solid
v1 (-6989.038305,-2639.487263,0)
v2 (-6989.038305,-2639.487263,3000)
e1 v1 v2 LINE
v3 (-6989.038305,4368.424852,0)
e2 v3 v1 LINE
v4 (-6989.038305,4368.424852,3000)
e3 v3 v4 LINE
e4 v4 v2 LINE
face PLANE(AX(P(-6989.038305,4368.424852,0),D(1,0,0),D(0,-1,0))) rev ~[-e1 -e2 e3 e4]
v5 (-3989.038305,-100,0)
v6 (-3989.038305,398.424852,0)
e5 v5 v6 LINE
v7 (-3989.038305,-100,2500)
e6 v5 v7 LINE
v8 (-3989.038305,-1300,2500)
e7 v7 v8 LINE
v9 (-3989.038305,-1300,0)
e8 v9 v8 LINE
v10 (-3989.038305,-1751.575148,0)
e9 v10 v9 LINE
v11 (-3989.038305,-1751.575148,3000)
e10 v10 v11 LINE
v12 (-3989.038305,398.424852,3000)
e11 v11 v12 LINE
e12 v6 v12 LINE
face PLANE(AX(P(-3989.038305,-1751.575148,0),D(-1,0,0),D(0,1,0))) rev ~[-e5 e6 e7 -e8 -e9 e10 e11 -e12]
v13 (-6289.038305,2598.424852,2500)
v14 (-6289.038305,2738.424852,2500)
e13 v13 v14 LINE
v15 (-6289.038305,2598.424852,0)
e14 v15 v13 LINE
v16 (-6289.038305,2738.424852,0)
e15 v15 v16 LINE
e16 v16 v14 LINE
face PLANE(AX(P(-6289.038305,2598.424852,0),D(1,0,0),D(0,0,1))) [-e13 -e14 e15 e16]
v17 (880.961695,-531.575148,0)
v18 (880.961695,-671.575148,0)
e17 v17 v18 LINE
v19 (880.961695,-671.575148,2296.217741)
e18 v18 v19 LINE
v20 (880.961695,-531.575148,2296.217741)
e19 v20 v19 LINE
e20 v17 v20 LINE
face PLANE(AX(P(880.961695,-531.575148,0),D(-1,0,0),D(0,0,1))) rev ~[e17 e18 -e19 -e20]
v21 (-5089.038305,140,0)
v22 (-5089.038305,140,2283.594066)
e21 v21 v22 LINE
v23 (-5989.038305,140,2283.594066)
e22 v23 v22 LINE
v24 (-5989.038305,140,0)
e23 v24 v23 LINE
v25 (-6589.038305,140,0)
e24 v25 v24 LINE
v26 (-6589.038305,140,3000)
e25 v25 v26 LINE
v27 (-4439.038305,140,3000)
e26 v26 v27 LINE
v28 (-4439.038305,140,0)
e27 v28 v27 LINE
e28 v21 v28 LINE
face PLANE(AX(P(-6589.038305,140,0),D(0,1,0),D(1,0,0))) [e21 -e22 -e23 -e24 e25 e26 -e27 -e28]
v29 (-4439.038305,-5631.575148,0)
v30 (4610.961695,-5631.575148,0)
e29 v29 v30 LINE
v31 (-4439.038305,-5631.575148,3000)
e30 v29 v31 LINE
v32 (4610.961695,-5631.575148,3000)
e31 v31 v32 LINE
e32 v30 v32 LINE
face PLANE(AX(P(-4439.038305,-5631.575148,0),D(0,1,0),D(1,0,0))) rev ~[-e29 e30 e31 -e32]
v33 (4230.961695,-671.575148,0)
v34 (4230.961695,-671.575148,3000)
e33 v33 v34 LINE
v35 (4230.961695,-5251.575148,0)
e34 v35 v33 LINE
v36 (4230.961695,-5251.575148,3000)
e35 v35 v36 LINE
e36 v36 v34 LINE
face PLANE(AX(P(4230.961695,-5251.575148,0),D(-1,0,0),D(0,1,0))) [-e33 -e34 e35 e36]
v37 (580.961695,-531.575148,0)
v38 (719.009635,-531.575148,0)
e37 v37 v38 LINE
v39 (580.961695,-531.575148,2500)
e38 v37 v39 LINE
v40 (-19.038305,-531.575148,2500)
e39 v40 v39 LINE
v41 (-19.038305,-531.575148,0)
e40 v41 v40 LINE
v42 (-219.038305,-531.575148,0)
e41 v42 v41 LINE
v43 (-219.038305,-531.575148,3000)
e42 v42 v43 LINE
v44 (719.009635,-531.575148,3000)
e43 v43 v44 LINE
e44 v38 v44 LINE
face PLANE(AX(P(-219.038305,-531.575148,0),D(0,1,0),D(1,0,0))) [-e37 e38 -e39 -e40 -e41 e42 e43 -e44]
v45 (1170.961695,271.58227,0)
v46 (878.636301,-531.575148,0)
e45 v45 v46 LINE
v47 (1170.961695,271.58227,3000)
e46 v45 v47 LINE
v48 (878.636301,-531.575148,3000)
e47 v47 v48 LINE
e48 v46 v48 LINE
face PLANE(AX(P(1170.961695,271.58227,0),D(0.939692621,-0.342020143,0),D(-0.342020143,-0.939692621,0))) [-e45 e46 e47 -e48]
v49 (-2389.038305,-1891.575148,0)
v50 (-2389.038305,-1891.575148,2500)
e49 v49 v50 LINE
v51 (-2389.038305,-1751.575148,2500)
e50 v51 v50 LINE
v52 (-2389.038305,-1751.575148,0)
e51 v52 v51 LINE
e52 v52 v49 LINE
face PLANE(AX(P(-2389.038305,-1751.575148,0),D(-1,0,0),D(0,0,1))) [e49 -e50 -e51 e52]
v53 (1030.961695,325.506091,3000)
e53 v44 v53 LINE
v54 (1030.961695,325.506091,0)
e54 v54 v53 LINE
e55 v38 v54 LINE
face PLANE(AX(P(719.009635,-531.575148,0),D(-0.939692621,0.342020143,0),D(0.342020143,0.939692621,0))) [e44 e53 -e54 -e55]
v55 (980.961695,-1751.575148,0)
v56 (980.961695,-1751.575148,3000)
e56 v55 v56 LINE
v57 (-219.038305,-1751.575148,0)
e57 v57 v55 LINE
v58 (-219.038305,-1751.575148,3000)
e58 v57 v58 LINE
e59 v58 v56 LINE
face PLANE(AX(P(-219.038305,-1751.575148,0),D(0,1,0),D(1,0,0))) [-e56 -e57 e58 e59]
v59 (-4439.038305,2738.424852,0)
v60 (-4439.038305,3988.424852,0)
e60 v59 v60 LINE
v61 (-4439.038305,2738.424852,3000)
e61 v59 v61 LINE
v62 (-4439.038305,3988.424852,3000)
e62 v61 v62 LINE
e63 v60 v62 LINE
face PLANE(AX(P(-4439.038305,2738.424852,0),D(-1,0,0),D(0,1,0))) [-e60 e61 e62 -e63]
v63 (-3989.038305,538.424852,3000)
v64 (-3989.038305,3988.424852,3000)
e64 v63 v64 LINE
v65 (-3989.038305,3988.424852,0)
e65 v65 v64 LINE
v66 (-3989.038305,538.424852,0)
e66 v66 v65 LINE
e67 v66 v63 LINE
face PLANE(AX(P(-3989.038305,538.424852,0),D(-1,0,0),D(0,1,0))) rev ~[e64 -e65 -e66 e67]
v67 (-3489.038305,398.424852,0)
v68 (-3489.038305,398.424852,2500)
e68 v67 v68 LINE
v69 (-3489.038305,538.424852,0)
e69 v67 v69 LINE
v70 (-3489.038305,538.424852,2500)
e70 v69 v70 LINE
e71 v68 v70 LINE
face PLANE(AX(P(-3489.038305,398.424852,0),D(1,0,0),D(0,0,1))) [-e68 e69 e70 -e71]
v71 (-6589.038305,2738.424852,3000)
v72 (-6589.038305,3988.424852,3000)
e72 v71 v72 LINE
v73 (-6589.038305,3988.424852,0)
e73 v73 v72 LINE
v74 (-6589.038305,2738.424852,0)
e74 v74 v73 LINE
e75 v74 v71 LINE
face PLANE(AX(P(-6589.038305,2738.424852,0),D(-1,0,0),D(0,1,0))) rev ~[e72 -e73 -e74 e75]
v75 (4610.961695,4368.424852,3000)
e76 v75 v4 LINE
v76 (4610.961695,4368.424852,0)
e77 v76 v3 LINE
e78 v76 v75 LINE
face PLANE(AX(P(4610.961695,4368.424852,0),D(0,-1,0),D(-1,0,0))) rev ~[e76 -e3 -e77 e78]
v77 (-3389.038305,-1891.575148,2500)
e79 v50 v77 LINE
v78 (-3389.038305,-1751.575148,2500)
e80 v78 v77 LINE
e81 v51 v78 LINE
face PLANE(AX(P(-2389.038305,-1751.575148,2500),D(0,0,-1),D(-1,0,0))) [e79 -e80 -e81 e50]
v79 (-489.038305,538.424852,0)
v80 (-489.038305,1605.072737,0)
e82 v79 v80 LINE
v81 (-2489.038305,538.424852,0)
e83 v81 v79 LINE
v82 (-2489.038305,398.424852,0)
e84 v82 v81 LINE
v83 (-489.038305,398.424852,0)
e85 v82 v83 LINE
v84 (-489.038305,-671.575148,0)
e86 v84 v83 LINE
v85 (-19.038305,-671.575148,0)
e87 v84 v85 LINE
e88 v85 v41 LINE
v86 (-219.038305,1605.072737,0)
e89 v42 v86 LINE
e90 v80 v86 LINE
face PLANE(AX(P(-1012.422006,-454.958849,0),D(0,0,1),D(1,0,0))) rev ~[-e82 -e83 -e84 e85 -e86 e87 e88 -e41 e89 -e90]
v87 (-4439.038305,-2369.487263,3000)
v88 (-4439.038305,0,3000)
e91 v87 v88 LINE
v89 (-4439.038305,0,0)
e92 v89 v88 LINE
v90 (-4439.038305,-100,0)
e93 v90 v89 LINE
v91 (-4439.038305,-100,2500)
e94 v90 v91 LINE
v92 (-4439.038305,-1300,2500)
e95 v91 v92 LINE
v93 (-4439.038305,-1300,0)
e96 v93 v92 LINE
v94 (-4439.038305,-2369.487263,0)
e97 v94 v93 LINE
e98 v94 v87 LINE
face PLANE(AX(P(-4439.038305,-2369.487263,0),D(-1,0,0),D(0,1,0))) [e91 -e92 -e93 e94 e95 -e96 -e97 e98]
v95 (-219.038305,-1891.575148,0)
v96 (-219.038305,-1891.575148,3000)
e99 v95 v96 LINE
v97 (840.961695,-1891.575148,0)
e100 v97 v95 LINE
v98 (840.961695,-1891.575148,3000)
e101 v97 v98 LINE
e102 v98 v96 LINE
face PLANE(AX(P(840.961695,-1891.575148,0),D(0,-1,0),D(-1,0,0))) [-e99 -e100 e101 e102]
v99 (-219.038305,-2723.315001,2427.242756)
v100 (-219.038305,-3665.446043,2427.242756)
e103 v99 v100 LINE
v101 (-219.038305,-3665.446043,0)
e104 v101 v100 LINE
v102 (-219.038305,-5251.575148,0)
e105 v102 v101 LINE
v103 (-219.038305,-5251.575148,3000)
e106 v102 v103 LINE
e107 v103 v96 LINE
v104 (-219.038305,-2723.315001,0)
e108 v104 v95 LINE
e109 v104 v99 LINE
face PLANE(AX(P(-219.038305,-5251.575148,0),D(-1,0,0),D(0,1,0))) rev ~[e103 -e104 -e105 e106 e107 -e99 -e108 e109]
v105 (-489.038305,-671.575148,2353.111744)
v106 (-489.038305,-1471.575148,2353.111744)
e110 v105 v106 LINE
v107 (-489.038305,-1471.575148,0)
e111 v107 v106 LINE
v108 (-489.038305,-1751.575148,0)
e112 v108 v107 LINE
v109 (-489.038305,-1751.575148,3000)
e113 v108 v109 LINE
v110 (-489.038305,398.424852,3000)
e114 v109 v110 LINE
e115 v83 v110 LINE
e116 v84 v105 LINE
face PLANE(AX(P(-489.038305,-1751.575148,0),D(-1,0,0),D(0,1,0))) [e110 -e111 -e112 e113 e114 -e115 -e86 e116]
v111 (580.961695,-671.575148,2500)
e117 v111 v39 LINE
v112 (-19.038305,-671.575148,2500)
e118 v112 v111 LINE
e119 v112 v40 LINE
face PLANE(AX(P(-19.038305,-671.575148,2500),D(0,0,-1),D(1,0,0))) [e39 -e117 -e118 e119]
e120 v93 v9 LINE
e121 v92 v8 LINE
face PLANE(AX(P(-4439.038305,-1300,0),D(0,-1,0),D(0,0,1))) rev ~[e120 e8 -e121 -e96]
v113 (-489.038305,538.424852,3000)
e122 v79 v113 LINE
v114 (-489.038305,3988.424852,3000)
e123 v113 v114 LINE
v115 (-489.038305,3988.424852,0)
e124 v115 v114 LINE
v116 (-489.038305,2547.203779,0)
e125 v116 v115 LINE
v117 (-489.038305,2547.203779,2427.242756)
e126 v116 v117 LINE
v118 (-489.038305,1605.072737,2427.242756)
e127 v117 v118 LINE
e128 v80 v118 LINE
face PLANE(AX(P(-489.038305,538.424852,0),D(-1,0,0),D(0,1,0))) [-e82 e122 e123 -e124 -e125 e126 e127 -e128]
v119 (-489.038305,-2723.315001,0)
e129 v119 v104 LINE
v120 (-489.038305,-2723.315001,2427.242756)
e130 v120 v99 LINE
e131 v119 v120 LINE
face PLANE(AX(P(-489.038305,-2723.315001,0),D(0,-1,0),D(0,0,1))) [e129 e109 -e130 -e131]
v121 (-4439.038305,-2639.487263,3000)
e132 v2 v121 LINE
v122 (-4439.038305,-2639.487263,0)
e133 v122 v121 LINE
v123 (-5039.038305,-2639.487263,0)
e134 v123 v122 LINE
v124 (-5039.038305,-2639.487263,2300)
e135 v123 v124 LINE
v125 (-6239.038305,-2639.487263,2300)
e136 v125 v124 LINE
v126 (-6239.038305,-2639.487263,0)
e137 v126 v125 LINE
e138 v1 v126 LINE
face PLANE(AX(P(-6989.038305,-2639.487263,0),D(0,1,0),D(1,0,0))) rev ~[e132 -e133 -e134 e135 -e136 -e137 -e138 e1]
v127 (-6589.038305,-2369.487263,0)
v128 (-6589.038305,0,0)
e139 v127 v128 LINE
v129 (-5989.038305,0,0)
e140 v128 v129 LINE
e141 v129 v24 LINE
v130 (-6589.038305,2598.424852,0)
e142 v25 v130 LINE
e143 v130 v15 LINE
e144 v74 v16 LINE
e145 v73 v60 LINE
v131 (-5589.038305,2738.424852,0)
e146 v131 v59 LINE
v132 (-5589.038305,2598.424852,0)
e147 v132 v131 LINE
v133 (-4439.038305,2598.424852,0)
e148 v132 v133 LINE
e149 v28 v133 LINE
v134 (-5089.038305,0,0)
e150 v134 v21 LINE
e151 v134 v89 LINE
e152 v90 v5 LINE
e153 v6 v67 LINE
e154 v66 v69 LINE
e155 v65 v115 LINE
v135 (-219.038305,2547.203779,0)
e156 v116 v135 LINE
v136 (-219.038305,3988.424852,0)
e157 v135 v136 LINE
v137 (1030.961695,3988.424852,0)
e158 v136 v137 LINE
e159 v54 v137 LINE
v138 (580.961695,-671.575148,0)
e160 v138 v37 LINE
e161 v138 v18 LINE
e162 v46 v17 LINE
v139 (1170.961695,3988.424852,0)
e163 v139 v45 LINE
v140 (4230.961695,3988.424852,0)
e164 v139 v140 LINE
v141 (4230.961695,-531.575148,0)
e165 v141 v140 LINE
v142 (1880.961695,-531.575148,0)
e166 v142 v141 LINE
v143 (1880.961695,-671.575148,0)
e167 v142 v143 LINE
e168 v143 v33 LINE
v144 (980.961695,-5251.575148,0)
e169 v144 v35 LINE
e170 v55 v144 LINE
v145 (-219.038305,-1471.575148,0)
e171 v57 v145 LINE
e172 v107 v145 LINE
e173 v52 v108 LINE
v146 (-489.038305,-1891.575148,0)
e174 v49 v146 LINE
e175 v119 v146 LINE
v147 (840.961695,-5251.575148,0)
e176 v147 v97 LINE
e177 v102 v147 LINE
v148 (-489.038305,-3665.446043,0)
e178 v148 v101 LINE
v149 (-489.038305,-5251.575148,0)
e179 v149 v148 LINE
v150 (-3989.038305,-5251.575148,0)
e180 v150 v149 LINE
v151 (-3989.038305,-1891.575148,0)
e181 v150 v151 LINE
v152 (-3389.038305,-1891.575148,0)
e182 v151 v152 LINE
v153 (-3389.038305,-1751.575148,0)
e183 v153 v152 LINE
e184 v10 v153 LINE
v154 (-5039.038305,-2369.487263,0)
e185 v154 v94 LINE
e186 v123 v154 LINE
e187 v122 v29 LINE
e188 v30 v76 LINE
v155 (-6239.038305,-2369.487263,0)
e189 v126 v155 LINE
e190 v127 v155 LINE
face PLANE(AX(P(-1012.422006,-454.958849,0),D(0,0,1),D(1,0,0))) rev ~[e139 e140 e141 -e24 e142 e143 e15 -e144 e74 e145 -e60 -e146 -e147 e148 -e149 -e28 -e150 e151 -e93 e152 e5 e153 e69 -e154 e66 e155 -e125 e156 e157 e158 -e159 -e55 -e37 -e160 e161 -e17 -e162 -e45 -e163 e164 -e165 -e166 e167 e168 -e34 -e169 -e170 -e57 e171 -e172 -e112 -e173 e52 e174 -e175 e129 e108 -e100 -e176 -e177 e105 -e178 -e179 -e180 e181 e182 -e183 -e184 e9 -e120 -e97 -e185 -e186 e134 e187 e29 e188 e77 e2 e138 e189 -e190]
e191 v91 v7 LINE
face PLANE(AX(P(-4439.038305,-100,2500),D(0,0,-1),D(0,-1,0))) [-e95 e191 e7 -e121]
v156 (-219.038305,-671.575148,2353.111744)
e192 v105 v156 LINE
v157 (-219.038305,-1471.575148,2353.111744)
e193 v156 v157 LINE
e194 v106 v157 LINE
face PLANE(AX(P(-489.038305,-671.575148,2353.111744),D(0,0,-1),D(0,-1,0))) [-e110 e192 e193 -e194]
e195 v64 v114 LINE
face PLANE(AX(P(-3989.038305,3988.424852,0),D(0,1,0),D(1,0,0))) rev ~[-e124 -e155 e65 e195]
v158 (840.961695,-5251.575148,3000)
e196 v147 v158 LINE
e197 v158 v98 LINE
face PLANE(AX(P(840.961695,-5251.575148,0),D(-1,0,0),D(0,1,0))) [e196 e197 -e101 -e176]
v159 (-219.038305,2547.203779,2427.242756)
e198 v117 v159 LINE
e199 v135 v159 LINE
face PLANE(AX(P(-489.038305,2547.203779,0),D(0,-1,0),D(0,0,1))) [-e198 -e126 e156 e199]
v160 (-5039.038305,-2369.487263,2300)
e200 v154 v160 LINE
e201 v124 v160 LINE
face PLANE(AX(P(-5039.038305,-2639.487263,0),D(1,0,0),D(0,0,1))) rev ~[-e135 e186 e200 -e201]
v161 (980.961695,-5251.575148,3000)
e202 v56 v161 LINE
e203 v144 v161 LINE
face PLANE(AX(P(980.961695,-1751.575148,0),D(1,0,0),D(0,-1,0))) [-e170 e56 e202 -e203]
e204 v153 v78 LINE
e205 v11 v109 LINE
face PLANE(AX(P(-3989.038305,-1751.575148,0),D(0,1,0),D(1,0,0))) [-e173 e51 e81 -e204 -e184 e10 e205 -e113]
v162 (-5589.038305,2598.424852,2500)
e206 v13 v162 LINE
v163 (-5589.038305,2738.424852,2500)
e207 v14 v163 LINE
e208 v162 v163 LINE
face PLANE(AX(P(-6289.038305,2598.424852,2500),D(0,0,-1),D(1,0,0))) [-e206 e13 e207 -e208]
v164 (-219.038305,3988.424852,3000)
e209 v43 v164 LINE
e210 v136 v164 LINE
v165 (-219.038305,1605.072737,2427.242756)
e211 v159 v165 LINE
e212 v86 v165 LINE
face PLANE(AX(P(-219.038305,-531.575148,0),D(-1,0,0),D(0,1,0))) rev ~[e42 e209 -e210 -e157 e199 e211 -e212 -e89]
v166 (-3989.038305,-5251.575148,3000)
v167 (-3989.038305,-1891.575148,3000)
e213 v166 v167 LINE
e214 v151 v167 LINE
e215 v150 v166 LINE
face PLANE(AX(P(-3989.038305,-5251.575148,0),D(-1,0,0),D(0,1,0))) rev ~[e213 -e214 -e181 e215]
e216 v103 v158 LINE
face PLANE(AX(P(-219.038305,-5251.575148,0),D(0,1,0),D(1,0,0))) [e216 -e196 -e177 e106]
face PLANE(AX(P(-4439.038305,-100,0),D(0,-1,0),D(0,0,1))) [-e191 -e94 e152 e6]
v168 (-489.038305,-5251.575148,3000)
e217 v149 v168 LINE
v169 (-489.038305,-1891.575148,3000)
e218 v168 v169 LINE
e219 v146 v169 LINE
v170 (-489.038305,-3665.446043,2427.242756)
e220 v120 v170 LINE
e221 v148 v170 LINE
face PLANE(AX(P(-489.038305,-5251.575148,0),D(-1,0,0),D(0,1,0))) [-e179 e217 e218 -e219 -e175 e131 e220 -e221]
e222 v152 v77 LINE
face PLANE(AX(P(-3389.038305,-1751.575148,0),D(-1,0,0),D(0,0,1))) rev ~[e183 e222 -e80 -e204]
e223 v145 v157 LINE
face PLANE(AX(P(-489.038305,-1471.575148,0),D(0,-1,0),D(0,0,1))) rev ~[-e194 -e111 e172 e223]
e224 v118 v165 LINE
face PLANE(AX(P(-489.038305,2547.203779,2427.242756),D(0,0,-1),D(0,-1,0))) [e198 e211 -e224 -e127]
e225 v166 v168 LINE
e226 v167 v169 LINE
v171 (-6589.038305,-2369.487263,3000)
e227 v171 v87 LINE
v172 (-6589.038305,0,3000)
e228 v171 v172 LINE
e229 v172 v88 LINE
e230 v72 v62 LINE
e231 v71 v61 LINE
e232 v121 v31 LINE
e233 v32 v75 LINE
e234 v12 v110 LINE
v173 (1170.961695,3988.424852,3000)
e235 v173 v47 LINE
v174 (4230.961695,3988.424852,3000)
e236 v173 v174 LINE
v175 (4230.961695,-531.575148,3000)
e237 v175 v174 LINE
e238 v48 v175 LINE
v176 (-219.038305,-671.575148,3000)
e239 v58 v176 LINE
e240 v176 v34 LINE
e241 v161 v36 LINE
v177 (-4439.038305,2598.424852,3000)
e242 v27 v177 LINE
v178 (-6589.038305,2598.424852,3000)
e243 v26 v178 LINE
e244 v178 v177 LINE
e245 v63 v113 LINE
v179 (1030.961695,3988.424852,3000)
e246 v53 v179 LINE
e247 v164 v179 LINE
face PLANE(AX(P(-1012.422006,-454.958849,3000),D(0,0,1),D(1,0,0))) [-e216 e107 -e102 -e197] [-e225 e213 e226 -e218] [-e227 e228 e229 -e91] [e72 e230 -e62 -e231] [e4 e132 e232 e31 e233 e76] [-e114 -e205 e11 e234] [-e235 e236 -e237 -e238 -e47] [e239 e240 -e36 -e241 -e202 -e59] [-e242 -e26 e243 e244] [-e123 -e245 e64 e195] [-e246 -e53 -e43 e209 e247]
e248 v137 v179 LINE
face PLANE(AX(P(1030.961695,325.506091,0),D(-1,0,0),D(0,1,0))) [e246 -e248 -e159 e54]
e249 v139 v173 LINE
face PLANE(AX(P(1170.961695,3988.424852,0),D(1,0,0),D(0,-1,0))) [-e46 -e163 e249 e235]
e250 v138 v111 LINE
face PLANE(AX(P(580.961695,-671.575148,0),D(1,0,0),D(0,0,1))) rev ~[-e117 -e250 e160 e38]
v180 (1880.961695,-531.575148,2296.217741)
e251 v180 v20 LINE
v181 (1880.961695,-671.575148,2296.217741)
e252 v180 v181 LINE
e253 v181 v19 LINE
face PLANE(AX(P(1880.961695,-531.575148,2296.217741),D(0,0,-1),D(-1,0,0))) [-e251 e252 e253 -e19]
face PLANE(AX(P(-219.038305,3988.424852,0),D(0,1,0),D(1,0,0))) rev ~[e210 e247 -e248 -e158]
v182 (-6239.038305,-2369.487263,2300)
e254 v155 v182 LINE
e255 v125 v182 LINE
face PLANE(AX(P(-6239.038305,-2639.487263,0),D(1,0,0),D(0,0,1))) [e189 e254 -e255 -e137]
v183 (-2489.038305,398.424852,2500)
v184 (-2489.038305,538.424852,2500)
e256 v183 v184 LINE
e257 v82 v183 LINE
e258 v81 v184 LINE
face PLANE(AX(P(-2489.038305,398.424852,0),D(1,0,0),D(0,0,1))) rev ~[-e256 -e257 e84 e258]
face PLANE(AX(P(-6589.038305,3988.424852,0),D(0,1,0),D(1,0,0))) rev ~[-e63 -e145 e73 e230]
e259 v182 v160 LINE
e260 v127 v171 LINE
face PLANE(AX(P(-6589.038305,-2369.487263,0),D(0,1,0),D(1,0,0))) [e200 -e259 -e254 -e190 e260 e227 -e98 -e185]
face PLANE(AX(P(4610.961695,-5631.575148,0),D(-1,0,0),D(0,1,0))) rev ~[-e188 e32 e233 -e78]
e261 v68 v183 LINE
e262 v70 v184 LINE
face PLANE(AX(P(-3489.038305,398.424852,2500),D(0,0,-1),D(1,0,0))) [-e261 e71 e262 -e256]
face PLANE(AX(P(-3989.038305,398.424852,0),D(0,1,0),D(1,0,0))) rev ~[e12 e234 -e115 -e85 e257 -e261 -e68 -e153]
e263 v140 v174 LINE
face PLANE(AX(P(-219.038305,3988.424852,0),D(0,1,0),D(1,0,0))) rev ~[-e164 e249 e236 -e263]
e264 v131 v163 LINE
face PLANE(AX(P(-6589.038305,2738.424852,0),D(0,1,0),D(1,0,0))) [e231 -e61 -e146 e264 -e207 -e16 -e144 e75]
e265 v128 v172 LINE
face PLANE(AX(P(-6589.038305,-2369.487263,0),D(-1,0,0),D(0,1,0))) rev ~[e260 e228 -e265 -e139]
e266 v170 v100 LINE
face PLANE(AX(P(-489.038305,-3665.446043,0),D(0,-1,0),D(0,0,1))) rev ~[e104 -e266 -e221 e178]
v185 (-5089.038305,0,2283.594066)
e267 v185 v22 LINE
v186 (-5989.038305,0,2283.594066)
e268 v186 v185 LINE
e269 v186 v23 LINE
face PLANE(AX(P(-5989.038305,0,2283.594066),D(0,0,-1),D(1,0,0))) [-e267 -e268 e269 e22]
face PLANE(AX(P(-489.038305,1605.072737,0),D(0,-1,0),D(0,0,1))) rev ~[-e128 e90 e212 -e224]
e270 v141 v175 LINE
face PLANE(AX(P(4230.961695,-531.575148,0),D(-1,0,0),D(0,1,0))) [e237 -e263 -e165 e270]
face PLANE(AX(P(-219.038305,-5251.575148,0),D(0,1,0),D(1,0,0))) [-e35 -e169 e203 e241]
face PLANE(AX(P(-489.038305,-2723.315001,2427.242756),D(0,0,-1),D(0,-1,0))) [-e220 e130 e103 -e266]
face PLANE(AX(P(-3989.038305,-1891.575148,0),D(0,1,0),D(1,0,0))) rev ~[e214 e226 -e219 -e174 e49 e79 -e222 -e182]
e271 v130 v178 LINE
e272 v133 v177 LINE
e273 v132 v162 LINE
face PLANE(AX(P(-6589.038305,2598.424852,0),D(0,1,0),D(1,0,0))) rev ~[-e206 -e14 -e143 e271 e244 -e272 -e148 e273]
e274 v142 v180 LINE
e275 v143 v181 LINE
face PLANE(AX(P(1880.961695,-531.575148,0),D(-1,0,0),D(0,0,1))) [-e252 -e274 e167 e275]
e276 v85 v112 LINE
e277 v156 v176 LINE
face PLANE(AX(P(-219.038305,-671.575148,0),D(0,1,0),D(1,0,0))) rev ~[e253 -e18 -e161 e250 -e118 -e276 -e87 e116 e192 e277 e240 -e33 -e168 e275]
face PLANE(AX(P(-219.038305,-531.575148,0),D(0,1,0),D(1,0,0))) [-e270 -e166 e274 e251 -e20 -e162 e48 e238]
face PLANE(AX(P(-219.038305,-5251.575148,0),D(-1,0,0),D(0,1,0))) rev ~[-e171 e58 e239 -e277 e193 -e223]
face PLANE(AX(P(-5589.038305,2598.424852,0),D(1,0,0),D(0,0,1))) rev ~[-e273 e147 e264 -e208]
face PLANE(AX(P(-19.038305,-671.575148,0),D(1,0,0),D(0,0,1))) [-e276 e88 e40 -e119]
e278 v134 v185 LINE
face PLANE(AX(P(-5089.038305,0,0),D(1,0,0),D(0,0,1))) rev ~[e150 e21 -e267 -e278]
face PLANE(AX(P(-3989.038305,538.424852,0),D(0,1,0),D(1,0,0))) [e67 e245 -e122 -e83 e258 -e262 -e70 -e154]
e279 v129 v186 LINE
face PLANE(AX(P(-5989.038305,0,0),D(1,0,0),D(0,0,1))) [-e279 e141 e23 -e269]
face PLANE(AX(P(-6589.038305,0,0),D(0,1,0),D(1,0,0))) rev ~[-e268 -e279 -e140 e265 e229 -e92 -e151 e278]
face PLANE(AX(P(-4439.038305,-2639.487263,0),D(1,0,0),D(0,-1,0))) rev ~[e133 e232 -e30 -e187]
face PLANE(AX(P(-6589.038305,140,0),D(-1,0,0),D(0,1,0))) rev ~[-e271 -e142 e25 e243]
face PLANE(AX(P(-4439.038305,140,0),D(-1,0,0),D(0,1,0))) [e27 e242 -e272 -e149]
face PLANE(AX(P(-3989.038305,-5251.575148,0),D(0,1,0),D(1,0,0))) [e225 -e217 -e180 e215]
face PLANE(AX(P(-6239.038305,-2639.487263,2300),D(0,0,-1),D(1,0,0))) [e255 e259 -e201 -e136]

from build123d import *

# Parameters (mm, degrees)
F0_W      = 3500
F0_H      = 3360
F0_W_2    = 2150
F0_H_2    = 2369.4872627268
F0_H_3    = 2150
F0_W_3    = 4450
F0_H_4    = 4580
F0_H_5    = 2458.4248518944
F0_H_6    = 1250
F0_H_7    = 3450
F0_H_8    = 4520
F1_DEPTH  = 3000
F2_W      = 1200
F2_H      = 2300
F3_DEPTH  = 270
F4_W      = 900
F4_H      = 2283.5940655647
F5_DEPTH  = 140
F6_W      = 700
F6_H      = 2500
F7_DEPTH  = 140
F8_W      = 1200
F8_H      = 2500
F9_DEPTH  = 450
F10_W     = 1000
F10_H     = 2500
F11_DEPTH = 140
F12_W     = 1000
F12_H     = 2500
F13_DEPTH = 140
F14_W     = 1000
F14_H     = 2296.2177407754
F15_DEPTH = 140
F16_W     = 942.1310424805
F16_H     = 2427.2427558899
F17_DEPTH = 270
F18_W     = 800
F18_H     = 2353.111743927
F19_DEPTH = 270
F20_W     = 600
F20_H     = 2500
F21_DEPTH = 140
F23_DEPTH = 3000
F25_DEPTH = 3000


with BuildPart() as f1:
    # F0 (on Top) → F1 (new body)
    with BuildSketch(Plane.XY):
        Polygon((4610.9616947174, 4368.4248518944), (-6989.0383052826, 4368.4248518944), (-6989.0383052826, -2639.4872627268), (-4439.0383052826, -2639.4872627268), (-4439.0383052826, -5631.5751481056), (4610.9616947174, -5631.5751481056), align=None)
        with Locations((-2239.0383052826, -3571.5751481056)):
            Rectangle(F0_W, F0_H, mode=Mode.SUBTRACT)
        with Locations((-5514.0383052826, -1184.7436313634)):
            Rectangle(F0_W_2, F0_H_2, mode=Mode.SUBTRACT)
        with Locations((-2239.0383052826, -676.5751481056)):
            Rectangle(F0_W, F0_H_3, mode=Mode.SUBTRACT)
        with Locations((2005.9616947174, -2961.5751481056)):
            Rectangle(F0_W_3, F0_H_4, mode=Mode.SUBTRACT)
        with Locations((-5514.0383052826, 1369.2124259472)):
            Rectangle(F0_W_2, F0_H_5, mode=Mode.SUBTRACT)
        with Locations((-5514.0383052826, 3363.4248518944)):
            Rectangle(F0_W_2, F0_H_6, mode=Mode.SUBTRACT)
        with Locations((-2239.0383052826, 2263.4248518944)):
            Rectangle(F0_W, F0_H_7, mode=Mode.SUBTRACT)
        with Locations((2005.9616947174, 1728.4248518944)):
            Rectangle(F0_W_3, F0_H_8, mode=Mode.SUBTRACT)
    extrude(amount=F1_DEPTH)

    # F2 (on face) → F3 (cut, through all)
    with BuildSketch(Plane.XZ.offset(2639.4872627268)):
        with Locations((-5639.0383052826, 1150)):
            Rectangle(F2_W, F2_H)
    extrude(amount=-F3_DEPTH, mode=Mode.SUBTRACT)

    # F4 (on face) → F5 (cut, through all)
    with BuildSketch(Plane.XZ):
        with Locations((-5539.0383052826, 1141.7970327824)):
            Rectangle(F4_W, F4_H)
    extrude(amount=-F5_DEPTH, mode=Mode.SUBTRACT)

    # F6 (on face) → F7 (cut, through all)
    with BuildSketch(Plane.XZ.offset(-2598.4248518944)):
        with Locations((-5939.0383052826, 1250)):
            Rectangle(F6_W, F6_H)
    extrude(amount=-F7_DEPTH, mode=Mode.SUBTRACT)

    # F8 (on face) → F9 (cut, through all)
    with BuildSketch(Plane(origin=(-4439.0383052826, 0, 0), x_dir=(0, -1, 0), z_dir=(-1, 0, 0))):
        with Locations((700, 1250)):
            Rectangle(F8_W, F8_H)
    extrude(amount=-F9_DEPTH, mode=Mode.SUBTRACT)

    # F10 (on face) → F11 (cut, through all)
    with BuildSketch(Plane.XZ.offset(-398.4248518944)):
        with Locations((-2989.0383052826, 1250)):
            Rectangle(F10_W, F10_H)
    extrude(amount=-F11_DEPTH, mode=Mode.SUBTRACT)

    # F12 (on face) → F13 (cut, through all)
    with BuildSketch(Plane(origin=(0, -1751.5751481056, 0), x_dir=(-1, 0, 0), z_dir=(0, 1, 0))):
        with Locations((2889.0383052826, 1250)):
            Rectangle(F12_W, F12_H)
    extrude(amount=-F13_DEPTH, mode=Mode.SUBTRACT)

    # F14 (on face) → F15 (cut, through all)
    with BuildSketch(Plane(origin=(0, -531.5751481056, 0), x_dir=(-1, 0, 0), z_dir=(0, 1, 0))):
        with Locations((-1380.9616947174, 1148.1088703877)):
            Rectangle(F14_W, F14_H)
    extrude(amount=-F15_DEPTH, mode=Mode.SUBTRACT)

    # F16 (on face) → F17 (cut, through all)
    with BuildSketch(Plane(origin=(-489.0383052826, 0, 0), x_dir=(0, -1, 0), z_dir=(-1, 0, 0))):
        with Locations((3194.3805217743, 1213.6213779449)):
            Rectangle(F16_W, F16_H)
        with Locations((-2076.1382579803, 1213.6213779449)):
            Rectangle(F16_W, F16_H)
    extrude(amount=-F17_DEPTH, mode=Mode.SUBTRACT)

    # F18 (on face) → F19 (cut, through all)
    with BuildSketch(Plane(origin=(-489.0383052826, 0, 0), x_dir=(0, -1, 0), z_dir=(-1, 0, 0))):
        with Locations((1071.5751481056, 1176.5558719635)):
            Rectangle(F18_W, F18_H)
    extrude(amount=-F19_DEPTH, mode=Mode.SUBTRACT)

    # F20 (on face) → F21 (cut, through all)
    with BuildSketch(Plane.XZ.offset(671.5751481056)):
        with Locations((280.9616947174, 1250)):
            Rectangle(F20_W, F20_H)
    extrude(amount=-F21_DEPTH, mode=Mode.SUBTRACT)

    # F22 (on face) → F23 (join, through all)
    with BuildSketch(Plane(origin=(0, 0, 0), x_dir=(1, 0, 0), z_dir=(0, 0, -1))):
        Polygon((1030.9616947174, -3988.4248518944), (1170.9616947174, -3988.4248518944), (1170.9616947174, -271.582269817), (878.6363011635, 531.5751481056), (719.0096352921, 531.5751481056), (1030.9616947174, -325.5060911179), align=None)
    extrude(amount=-F23_DEPTH)

    # F24 (on face) → F25 (join, through all)
    with BuildSketch(Plane(origin=(0, 0, 0), x_dir=(1, 0, 0), z_dir=(0, 0, -1))):
        Polygon((840.9616947174, 1891.5751481056), (-219.0383052826, 1891.5751481056), (-219.0383052826, 1751.5751481056), (980.9616947174, 1751.5751481056), (980.9616947174, 1891.5751481056), (980.9616947174, 5251.5751481056), (840.9616947174, 5251.5751481056), align=None)
    extrude(amount=-F25_DEPTH)


solid = f1.part
